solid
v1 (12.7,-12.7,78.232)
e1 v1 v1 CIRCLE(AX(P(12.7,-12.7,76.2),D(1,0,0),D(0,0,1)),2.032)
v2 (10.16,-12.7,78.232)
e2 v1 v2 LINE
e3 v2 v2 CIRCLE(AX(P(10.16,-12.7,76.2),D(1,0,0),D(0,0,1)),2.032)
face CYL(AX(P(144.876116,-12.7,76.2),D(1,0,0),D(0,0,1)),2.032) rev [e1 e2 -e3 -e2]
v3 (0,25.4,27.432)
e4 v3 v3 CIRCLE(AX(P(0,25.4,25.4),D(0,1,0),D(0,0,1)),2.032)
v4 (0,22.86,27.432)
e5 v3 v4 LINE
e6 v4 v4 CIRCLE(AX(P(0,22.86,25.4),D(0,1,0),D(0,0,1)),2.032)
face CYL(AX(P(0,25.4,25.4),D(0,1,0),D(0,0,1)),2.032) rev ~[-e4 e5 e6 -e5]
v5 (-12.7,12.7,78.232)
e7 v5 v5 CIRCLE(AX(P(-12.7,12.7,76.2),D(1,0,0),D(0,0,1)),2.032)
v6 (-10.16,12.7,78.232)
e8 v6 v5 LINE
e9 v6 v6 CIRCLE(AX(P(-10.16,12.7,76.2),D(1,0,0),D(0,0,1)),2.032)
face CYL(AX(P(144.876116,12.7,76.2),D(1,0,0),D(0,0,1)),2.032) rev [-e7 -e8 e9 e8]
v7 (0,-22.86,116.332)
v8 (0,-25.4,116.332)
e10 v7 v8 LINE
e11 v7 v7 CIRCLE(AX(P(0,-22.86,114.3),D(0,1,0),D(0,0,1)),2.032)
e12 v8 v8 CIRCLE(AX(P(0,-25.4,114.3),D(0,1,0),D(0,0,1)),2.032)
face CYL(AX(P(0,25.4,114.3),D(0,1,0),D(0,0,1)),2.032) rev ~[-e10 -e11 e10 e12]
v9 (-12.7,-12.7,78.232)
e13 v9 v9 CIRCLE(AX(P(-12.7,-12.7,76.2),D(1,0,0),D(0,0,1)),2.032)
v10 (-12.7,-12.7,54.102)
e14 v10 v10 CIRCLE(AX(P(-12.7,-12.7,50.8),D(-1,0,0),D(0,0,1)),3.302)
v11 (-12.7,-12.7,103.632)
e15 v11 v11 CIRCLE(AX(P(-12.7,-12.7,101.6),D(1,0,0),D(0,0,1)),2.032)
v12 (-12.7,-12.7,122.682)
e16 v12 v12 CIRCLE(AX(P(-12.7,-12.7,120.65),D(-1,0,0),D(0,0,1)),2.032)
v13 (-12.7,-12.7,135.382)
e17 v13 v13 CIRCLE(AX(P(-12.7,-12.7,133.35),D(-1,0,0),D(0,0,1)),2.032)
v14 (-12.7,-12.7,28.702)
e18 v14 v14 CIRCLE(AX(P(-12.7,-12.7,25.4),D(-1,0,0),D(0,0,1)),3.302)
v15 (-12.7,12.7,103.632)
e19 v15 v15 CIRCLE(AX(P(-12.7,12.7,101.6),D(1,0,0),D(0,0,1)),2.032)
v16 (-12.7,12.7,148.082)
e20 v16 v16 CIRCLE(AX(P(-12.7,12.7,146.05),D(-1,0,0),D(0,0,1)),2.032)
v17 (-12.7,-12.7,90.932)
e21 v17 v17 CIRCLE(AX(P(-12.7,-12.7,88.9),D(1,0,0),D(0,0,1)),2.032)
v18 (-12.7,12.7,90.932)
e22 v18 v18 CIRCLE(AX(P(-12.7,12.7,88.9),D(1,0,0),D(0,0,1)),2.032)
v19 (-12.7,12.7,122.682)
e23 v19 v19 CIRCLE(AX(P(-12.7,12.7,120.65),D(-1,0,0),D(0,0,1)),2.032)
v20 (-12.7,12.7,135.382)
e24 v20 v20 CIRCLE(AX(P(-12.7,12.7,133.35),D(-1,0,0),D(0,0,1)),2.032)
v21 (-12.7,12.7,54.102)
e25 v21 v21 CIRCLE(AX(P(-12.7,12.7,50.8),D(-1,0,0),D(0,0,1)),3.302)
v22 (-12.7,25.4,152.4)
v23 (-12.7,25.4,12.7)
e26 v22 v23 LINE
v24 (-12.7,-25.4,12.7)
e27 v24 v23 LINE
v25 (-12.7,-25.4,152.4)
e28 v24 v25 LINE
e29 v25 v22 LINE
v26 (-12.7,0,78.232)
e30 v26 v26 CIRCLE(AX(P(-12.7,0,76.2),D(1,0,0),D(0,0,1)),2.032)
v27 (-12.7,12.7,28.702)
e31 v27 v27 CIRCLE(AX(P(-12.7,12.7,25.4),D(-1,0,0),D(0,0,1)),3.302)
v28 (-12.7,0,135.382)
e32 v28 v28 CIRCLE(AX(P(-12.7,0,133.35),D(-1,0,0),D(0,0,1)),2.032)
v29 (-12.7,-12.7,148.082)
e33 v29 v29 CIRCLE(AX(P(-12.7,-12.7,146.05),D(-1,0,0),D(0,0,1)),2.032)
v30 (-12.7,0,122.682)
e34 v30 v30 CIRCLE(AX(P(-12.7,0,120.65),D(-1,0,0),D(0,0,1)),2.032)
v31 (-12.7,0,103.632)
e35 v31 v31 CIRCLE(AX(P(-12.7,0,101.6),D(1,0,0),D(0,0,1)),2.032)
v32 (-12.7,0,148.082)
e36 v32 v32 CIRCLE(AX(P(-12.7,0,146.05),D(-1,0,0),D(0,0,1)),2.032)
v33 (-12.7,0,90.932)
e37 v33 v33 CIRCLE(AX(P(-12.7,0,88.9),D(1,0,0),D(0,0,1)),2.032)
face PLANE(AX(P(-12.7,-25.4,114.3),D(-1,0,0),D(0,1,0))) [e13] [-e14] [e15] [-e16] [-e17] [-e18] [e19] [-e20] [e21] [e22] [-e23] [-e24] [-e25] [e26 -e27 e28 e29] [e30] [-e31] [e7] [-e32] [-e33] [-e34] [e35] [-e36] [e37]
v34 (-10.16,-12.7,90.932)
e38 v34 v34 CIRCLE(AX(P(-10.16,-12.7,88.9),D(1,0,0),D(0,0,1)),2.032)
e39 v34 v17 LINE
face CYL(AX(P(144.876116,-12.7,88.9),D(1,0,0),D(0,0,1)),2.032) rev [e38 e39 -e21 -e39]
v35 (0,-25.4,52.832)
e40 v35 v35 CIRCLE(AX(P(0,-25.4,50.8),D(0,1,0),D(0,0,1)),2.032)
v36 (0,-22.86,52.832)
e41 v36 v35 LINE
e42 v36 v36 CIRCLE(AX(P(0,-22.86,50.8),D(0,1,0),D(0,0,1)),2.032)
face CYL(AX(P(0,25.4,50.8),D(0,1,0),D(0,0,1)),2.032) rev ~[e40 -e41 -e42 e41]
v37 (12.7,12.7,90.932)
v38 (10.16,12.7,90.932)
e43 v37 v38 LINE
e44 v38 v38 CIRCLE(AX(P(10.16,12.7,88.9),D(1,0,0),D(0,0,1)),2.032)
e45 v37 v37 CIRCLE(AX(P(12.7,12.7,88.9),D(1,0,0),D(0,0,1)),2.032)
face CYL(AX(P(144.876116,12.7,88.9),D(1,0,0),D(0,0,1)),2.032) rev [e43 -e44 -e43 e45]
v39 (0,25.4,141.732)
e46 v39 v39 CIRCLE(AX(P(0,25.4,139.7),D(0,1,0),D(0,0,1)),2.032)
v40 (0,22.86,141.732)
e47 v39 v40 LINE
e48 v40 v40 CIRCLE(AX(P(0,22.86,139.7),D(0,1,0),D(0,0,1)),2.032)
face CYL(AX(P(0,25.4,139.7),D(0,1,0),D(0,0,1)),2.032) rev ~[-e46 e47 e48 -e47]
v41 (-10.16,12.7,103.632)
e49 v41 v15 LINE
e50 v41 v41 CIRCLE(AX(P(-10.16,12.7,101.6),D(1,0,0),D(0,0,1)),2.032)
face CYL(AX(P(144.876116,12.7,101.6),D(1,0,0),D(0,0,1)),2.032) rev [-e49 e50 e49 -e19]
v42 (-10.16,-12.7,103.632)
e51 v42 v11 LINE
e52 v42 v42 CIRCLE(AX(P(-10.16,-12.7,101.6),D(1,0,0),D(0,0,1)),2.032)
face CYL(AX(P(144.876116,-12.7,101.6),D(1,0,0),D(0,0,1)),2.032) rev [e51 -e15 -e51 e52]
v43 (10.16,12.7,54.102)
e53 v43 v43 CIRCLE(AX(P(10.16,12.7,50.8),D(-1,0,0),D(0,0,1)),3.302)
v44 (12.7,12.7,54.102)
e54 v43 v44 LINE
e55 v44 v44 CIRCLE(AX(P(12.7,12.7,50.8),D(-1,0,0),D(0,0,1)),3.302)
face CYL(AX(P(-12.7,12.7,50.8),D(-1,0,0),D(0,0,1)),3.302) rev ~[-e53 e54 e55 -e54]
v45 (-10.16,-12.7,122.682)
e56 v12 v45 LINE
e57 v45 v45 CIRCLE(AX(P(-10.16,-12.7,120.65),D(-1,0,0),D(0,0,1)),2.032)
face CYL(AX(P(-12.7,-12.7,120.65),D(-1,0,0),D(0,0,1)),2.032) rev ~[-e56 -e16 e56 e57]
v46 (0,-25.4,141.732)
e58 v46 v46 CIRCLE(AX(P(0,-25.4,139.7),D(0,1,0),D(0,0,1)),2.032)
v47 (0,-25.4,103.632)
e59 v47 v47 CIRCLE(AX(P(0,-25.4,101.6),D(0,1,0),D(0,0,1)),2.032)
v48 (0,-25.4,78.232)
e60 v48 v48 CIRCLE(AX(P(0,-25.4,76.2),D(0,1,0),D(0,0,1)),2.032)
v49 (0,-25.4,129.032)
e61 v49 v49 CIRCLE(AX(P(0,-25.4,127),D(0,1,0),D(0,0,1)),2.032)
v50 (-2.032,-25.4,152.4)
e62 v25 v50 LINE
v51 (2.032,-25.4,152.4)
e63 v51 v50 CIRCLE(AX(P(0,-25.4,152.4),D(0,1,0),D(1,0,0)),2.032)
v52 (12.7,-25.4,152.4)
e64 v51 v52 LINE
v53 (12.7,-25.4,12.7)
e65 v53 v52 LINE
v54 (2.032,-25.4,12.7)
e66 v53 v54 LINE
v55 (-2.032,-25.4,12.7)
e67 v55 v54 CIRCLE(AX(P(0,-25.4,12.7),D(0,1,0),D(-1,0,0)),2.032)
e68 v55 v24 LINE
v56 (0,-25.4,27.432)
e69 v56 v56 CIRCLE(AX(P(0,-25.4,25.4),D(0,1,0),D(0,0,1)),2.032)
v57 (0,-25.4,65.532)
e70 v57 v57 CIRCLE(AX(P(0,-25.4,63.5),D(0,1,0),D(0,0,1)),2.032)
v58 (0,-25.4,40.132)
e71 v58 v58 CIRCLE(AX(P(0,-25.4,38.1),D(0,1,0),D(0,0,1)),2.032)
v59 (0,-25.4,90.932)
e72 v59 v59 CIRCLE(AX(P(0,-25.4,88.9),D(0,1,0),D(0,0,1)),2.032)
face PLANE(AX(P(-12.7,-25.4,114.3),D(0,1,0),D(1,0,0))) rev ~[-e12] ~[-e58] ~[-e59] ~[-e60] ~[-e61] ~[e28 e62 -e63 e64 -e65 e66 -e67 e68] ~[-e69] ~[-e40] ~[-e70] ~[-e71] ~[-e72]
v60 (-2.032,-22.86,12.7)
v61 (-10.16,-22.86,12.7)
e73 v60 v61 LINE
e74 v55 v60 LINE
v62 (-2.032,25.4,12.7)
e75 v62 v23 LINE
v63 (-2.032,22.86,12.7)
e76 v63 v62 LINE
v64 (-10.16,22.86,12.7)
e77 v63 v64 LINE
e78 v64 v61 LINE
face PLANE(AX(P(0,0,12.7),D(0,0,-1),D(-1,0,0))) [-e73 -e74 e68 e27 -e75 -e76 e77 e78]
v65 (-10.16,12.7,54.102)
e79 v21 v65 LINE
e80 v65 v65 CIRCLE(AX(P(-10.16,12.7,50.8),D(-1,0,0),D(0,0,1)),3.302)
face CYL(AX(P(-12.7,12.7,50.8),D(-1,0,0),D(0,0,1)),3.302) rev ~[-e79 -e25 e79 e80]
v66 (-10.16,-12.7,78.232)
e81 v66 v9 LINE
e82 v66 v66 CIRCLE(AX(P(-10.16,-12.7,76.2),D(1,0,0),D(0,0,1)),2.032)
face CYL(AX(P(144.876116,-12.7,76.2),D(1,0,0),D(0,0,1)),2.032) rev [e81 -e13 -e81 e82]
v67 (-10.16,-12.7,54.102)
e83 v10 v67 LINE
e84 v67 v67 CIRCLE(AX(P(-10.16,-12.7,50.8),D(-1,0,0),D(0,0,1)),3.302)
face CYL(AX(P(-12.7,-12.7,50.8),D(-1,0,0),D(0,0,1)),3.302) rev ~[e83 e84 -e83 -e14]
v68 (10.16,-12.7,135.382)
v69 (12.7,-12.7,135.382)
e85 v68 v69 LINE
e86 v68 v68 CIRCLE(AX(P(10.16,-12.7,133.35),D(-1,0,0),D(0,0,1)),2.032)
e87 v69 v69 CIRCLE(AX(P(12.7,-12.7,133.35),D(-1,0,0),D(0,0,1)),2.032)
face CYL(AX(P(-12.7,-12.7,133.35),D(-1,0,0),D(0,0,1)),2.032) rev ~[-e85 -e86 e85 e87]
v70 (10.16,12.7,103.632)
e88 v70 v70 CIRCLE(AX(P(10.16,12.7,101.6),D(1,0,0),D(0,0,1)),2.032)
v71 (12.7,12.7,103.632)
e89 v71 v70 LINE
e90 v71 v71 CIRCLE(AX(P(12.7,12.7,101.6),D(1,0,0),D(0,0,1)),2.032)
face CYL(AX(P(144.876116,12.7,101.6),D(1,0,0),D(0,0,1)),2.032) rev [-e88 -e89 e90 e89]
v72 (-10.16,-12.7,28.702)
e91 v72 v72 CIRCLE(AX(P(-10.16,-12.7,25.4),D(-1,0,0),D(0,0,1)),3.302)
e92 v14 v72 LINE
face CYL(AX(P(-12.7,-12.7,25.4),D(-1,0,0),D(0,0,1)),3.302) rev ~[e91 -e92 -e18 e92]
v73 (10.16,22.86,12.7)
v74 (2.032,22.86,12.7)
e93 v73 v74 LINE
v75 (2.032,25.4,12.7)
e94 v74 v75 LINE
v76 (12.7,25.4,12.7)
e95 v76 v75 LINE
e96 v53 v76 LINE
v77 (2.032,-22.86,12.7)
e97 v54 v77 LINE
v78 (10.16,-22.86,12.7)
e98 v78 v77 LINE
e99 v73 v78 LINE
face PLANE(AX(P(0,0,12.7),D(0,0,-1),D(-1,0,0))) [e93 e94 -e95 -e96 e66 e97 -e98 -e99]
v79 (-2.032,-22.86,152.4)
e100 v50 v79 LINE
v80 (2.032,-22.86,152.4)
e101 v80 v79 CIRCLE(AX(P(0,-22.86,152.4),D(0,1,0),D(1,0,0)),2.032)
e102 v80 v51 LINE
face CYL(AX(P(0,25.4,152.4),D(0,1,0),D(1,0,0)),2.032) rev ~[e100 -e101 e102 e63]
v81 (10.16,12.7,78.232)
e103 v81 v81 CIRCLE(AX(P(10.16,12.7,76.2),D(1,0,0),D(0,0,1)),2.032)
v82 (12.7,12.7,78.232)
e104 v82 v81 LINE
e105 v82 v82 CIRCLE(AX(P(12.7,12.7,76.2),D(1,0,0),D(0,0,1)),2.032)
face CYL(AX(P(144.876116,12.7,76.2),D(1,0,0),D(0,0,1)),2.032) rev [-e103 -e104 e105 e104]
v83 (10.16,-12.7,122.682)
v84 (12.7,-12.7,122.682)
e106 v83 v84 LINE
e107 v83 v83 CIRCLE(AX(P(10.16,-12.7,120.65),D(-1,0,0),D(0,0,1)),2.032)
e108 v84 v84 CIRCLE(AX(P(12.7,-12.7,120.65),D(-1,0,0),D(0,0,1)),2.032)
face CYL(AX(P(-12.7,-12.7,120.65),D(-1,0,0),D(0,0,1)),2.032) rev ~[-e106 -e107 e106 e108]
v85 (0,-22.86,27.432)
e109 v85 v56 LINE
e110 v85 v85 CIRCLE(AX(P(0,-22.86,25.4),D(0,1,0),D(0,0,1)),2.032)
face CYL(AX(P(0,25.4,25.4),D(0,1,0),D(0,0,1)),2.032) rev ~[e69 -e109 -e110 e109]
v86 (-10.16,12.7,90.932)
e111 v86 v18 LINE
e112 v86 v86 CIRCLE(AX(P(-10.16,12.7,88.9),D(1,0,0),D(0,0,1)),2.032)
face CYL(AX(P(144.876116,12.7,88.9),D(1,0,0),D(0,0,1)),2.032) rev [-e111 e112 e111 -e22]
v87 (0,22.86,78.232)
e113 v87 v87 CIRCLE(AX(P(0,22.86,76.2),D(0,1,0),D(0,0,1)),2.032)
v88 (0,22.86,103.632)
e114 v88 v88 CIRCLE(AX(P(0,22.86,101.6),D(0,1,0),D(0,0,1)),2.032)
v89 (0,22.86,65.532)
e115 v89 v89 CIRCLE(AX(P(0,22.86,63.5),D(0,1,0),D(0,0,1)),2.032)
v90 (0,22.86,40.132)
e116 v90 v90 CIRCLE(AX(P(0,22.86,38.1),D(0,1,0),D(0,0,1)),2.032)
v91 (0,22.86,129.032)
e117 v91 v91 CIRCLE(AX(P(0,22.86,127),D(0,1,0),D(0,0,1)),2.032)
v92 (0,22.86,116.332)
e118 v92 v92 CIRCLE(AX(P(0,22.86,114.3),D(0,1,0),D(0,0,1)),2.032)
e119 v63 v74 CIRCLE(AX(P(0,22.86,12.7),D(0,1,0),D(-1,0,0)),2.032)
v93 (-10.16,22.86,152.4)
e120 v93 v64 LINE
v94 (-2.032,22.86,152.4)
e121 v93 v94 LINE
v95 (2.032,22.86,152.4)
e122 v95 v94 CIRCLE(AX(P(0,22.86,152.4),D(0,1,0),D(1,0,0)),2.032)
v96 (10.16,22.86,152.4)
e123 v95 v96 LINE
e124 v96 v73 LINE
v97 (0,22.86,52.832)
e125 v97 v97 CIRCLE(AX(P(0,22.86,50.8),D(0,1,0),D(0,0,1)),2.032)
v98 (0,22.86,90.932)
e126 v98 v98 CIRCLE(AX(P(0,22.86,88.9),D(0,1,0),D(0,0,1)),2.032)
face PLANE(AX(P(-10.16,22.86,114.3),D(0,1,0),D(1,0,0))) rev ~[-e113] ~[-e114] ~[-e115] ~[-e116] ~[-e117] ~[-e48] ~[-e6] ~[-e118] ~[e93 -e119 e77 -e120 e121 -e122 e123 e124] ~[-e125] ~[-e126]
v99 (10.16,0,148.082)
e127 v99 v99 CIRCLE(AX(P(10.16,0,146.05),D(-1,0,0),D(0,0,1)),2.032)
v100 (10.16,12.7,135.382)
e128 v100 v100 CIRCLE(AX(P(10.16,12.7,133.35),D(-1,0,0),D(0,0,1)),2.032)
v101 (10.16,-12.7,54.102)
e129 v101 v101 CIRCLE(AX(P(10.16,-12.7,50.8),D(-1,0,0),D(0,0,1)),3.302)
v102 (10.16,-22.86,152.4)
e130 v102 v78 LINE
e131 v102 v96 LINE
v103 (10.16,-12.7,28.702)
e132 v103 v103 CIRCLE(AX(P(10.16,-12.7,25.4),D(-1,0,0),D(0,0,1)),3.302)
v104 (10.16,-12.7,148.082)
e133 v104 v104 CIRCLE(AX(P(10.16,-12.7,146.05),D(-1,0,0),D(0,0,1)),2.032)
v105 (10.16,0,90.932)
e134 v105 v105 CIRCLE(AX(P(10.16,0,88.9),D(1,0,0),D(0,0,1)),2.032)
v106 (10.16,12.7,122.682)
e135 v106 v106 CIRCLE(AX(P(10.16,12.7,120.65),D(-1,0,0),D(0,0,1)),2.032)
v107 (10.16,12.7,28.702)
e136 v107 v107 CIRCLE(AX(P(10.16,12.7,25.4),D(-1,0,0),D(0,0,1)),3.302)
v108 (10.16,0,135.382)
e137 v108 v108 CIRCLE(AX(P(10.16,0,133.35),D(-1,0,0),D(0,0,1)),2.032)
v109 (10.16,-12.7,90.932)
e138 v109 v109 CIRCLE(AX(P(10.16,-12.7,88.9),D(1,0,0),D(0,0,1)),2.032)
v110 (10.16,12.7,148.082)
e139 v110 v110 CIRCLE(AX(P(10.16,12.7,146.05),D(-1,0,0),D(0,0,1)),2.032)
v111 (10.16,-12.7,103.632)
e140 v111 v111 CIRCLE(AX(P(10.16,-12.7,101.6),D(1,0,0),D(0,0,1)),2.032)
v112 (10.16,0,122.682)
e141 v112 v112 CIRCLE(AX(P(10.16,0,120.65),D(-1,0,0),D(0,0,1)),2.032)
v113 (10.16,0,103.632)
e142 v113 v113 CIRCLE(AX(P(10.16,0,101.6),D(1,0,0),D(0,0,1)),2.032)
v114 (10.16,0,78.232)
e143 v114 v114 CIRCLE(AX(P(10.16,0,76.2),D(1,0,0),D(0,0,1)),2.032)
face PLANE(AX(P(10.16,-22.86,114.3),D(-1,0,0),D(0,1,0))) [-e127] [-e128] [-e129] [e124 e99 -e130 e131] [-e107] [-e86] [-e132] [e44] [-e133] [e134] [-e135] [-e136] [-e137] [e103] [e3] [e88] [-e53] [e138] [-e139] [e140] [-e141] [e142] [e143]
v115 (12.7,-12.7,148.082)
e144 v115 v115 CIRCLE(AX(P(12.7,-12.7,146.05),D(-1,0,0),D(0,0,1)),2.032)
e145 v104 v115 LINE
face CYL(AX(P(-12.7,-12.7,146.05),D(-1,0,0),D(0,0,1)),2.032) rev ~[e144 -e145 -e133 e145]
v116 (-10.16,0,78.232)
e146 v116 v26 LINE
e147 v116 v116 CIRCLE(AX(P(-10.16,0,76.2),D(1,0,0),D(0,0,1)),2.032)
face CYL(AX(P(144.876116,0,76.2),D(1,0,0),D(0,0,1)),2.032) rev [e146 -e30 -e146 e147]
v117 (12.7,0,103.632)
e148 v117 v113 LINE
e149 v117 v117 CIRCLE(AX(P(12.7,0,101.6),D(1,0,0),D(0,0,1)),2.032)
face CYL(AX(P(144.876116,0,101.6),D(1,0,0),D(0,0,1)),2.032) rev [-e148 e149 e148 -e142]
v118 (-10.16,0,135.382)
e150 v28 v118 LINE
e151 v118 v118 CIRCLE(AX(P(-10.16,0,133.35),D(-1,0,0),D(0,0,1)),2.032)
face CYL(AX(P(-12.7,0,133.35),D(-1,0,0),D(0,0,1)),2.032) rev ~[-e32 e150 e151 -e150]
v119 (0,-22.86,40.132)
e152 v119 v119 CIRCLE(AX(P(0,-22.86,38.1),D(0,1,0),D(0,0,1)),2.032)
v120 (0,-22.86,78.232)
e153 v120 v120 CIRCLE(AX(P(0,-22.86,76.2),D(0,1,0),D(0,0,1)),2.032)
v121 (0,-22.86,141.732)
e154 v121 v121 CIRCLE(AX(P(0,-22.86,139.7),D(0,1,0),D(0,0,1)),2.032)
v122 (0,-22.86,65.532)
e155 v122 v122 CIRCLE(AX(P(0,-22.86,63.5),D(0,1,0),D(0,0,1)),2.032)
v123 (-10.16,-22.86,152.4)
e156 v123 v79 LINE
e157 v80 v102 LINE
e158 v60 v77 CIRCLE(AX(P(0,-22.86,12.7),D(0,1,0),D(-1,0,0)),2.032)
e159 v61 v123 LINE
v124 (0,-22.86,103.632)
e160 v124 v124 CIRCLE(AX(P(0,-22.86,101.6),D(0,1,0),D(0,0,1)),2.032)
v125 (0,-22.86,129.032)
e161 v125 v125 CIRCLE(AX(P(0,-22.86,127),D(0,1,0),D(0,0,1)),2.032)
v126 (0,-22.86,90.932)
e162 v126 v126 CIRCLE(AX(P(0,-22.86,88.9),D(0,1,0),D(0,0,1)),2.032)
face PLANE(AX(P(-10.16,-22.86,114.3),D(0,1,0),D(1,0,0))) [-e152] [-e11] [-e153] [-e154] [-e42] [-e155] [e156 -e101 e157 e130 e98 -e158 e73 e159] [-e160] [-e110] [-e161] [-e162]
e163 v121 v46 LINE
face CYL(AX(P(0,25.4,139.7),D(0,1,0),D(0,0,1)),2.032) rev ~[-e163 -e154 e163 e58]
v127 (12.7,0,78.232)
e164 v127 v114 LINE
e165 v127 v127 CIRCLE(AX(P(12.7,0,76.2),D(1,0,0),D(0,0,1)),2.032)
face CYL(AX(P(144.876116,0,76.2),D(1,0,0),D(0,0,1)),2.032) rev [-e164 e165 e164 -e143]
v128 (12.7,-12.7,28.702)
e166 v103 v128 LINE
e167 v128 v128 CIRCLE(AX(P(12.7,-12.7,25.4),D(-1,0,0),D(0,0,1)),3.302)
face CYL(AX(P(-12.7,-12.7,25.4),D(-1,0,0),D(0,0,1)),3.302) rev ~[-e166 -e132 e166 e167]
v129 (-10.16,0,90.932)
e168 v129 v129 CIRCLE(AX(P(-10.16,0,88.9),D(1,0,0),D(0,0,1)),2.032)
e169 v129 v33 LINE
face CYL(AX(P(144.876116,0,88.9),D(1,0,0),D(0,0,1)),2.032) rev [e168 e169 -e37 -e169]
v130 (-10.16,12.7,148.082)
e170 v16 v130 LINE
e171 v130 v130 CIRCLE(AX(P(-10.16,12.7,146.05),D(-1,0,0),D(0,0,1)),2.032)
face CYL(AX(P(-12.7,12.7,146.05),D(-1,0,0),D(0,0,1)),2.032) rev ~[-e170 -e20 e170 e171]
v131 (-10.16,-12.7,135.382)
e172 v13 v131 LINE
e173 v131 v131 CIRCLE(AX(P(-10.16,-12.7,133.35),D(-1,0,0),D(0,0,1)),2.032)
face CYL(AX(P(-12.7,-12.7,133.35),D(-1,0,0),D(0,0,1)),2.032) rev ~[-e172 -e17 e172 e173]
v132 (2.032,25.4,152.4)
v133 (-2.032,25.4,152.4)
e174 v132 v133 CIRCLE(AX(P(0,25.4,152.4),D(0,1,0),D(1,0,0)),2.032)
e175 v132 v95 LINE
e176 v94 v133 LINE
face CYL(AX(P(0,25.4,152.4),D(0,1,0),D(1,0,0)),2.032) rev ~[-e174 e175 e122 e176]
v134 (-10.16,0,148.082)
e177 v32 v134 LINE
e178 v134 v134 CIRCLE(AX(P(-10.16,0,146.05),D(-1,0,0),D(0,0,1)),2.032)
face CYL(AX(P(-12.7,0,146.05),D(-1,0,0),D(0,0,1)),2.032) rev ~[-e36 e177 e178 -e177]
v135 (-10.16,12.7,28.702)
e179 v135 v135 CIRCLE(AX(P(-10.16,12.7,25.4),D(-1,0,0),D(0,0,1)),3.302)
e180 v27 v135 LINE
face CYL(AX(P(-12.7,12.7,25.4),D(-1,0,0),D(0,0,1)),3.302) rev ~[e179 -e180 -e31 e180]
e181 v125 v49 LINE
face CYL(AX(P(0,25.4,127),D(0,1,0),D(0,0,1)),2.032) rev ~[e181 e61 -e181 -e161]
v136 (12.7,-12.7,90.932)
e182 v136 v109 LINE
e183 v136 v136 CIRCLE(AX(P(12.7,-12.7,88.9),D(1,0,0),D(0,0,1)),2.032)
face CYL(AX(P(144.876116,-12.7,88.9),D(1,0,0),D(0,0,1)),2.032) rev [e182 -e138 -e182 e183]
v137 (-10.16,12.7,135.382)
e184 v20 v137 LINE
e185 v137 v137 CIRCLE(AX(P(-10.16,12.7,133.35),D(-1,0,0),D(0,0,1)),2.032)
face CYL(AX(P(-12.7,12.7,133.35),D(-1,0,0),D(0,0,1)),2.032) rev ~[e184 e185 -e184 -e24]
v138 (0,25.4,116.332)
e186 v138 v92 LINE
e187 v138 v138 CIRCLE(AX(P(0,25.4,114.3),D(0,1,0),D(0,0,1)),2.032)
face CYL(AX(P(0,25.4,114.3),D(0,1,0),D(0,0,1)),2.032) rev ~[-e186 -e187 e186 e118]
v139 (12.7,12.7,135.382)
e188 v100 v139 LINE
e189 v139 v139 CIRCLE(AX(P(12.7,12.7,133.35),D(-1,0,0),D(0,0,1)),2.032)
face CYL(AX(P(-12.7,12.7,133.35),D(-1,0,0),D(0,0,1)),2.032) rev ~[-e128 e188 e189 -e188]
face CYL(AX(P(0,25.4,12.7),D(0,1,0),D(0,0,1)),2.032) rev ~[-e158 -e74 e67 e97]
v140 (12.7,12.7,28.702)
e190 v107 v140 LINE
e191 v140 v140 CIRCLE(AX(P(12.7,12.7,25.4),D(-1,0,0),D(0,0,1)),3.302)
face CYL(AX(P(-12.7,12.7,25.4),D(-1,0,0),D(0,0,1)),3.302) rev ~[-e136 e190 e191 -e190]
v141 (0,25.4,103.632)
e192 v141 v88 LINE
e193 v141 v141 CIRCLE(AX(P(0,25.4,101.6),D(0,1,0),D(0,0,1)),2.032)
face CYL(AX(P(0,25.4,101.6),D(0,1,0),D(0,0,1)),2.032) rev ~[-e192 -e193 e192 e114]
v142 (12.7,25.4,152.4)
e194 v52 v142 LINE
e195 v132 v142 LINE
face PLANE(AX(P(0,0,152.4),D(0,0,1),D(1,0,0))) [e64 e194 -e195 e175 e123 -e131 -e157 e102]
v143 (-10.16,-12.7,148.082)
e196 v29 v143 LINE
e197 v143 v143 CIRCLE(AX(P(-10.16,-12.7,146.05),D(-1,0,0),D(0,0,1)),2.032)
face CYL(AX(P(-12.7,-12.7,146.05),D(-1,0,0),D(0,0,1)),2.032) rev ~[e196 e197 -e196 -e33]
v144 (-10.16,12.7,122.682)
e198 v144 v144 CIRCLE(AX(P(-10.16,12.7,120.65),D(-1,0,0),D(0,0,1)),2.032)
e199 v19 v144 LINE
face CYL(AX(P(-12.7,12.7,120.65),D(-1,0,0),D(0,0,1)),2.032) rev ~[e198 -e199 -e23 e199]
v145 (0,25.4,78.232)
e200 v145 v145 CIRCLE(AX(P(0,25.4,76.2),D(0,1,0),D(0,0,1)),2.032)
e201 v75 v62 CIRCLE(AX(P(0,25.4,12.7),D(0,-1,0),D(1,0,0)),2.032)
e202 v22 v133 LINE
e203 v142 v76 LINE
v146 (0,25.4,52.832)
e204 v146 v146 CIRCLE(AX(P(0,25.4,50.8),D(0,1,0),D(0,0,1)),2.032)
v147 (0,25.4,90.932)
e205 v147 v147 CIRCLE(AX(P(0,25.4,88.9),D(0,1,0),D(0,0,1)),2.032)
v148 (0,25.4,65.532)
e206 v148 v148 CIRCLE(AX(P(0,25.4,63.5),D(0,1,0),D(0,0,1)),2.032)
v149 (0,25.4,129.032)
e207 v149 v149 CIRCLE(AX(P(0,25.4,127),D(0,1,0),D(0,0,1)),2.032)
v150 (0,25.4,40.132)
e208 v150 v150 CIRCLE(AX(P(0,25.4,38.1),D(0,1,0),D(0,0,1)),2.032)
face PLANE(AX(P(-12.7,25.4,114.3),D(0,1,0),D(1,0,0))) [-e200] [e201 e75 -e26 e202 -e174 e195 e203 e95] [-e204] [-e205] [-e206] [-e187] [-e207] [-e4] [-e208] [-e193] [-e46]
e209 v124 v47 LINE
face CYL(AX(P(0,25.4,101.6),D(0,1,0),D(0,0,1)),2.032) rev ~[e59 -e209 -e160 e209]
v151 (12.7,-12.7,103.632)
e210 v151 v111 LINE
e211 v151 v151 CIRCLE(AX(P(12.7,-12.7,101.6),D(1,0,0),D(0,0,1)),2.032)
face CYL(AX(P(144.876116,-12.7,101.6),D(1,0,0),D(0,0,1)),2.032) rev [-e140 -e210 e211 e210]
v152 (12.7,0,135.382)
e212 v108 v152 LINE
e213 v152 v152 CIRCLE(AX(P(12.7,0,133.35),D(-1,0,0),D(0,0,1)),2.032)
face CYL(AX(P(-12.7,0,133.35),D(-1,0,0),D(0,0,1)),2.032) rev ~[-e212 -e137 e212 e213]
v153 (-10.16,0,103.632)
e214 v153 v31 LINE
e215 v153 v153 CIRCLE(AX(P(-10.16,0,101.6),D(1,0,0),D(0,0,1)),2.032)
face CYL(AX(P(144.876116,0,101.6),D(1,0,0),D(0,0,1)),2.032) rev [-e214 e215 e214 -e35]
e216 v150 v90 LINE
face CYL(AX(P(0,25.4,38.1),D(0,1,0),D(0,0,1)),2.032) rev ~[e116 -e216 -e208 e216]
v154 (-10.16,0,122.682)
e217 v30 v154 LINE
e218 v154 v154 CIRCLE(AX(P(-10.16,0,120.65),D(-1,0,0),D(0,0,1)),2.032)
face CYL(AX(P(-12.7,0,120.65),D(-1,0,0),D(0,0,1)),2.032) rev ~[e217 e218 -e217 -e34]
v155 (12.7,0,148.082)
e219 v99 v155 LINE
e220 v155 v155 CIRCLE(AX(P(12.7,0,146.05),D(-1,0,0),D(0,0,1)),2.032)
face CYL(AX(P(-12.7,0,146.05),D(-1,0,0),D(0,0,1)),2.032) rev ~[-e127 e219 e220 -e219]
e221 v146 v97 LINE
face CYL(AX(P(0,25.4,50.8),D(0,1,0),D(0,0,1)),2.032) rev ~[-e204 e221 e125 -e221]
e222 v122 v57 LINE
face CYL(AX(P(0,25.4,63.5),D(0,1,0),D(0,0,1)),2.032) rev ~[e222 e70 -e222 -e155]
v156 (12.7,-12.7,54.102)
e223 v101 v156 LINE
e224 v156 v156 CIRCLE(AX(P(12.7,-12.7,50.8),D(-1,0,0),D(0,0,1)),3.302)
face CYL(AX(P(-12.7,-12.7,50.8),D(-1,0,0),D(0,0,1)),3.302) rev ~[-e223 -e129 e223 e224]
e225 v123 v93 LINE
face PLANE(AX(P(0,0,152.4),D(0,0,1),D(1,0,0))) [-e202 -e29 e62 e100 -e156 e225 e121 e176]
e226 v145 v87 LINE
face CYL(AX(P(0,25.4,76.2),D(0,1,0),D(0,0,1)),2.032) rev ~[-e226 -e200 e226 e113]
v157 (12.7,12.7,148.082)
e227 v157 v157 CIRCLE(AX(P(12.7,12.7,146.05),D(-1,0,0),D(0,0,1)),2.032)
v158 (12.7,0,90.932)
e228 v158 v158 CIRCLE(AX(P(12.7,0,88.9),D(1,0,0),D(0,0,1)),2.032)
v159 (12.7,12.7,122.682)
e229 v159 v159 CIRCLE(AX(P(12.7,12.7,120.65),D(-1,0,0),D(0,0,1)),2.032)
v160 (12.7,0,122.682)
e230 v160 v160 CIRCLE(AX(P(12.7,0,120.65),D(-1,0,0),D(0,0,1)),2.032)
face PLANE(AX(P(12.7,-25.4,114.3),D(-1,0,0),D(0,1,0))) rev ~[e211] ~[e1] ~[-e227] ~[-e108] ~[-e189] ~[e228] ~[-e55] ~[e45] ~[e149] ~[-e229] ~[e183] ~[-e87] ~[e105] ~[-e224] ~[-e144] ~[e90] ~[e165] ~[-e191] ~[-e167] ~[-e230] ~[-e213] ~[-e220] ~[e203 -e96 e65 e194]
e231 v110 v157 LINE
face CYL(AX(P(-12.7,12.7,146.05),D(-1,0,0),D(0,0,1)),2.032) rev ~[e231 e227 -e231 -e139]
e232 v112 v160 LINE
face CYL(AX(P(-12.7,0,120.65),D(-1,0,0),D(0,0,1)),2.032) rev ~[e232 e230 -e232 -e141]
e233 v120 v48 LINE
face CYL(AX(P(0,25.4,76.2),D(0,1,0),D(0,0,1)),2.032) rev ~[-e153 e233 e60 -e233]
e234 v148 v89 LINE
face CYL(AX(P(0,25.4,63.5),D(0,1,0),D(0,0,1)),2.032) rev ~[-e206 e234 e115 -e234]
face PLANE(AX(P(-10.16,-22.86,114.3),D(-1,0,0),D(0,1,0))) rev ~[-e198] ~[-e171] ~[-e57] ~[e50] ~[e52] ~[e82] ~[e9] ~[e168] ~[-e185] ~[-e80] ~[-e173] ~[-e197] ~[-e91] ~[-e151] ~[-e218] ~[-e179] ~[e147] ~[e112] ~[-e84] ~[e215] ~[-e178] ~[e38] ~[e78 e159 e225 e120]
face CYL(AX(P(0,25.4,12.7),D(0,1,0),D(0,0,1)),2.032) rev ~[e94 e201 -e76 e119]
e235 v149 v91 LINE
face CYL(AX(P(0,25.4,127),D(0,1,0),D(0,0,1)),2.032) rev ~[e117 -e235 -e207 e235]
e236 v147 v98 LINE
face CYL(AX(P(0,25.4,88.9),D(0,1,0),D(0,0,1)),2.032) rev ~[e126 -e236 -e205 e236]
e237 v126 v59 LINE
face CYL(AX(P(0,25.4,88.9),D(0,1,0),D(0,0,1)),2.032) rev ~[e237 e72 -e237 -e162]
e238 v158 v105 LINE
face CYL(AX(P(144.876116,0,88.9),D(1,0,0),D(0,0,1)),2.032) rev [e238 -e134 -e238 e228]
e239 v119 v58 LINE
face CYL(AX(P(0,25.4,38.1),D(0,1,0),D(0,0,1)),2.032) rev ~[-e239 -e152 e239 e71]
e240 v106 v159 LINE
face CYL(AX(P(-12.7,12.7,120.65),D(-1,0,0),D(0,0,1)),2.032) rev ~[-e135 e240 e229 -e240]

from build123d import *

# Parameters (mm, degrees)
SKETCH1_W               = 25.4
SKETCH1_H               = 50.8
SKETCH1_W_2             = 20.32
SKETCH1_H_2             = 45.72
BOSS_EXTRUDE1_DEPTH     = 114.3
SKETCH6_W               = 25.4
SKETCH6_H               = 50.8
SKETCH6_W_2             = 20.32
SKETCH6_H_2             = 45.72
BOSS_EXTRUDE4_DEPTH     = 38.1
SKETCH2_R               = 2.032
CUT_EXTRUDE1_DEPTH      = 162.144934764
CUT_EXTRUDE2_DEPTH      = 157.576115675
CUT_EXTRUDE2_DEPTH_BACK = 157.576115675
SKETCH3_R               = 2.032
SKETCH7_W               = 25.4
SKETCH7_H               = 50.8
CUT_EXTRUDE3_DEPTH      = 12.7
SKETCH8_R               = 3.302
CUT_EXTRUDE5_DEPTH      = 157.576115675
SKETCH9_R               = 2.032
CUT_EXTRUDE6_DEPTH      = 157.576115675


with BuildPart() as part:
    # Sketch1 → Boss-Extrude1 (new body)
    with BuildSketch(Plane.XY):
        Rectangle(SKETCH1_W, SKETCH1_H)
        Rectangle(SKETCH1_W_2, SKETCH1_H_2, mode=Mode.SUBTRACT)
    extrude(amount=BOSS_EXTRUDE1_DEPTH)

    # Sketch6 → Boss-Extrude4 (add)
    with BuildSketch(Plane.XY.offset(114.3)):
        Rectangle(SKETCH6_W, SKETCH6_H)
        Rectangle(SKETCH6_W_2, SKETCH6_H_2, mode=Mode.SUBTRACT)
    extrude(amount=BOSS_EXTRUDE4_DEPTH)

    # Sketch2 → Cut-Extrude1 (cut, through all)
    with BuildSketch(Plane(origin=(0, 25.4, 0), x_dir=(1, 0, 0), z_dir=(0, 1, 0))):
        Circle(SKETCH2_R)
        with Locations(Location((0, -12.7, 0), (0, 0, 270))):
            Circle(SKETCH2_R)
        with Locations(Location((0, -25.4, 0), (0, 0, 270))):
            Circle(SKETCH2_R)
        with Locations(Location((0, -38.1, 0), (0, 0, 270))):
            Circle(SKETCH2_R)
        with Locations(Location((0, -50.8, 0), (0, 0, 270))):
            Circle(SKETCH2_R)
        with Locations(Location((0, -63.5, 0), (0, 0, 270))):
            Circle(SKETCH2_R)
        with Locations(Location((0, -76.2, 0), (0, 0, 270))):
            Circle(SKETCH2_R)
        with Locations(Location((0, -88.9, 0), (0, 0, 270))):
            Circle(SKETCH2_R)
        with Locations(Location((0, -101.6, 0), (0, 0, 270))):
            Circle(SKETCH2_R)
        with Locations(Location((0, -114.3, 0), (0, 0, 270))):
            Circle(SKETCH2_R)
        with Locations(Location((0, -127, 0), (0, 0, 270))):
            Circle(SKETCH2_R)
        with Locations(Location((0, -139.7, 0), (0, 0, 270))):
            Circle(SKETCH2_R)
        with Locations((0, -152.4)):
            Circle(SKETCH2_R)
        with Locations((0, -165.1)):
            Circle(SKETCH2_R)
        with Locations((0, -177.8)):
            Circle(SKETCH2_R)
        with Locations((0, -190.5)):
            Circle(SKETCH2_R)
        with Locations((0, -203.2)):
            Circle(SKETCH2_R)
        with Locations((0, -215.9)):
            Circle(SKETCH2_R)
        with Locations((0, -228.6)):
            Circle(SKETCH2_R)
        with Locations((0, -241.3)):
            Circle(SKETCH2_R)
    extrude(amount=-CUT_EXTRUDE1_DEPTH, mode=Mode.SUBTRACT)

    # Sketch3 → Cut-Extrude2 (cut, two sides: drawn at the far end of the back side and taken through both)
    with BuildSketch(Plane.ZY.offset(12.7).offset(-CUT_EXTRUDE2_DEPTH_BACK)):
        with Locations((101.6, 12.7)):
            Circle(SKETCH3_R)
        with Locations((101.6, 0)):
            Circle(SKETCH3_R)
        with Locations((101.6, -12.7)):
            Circle(SKETCH3_R)
        with Locations((88.9, 0)):
            Circle(SKETCH3_R)
        with Locations((88.9, -12.7)):
            Circle(SKETCH3_R)
        with Locations((76.2, 0)):
            Circle(SKETCH3_R)
        with Locations((76.2, -12.7)):
            Circle(SKETCH3_R)
        with Locations((88.9, 12.7)):
            Circle(SKETCH3_R)
        with Locations((76.2, 12.7)):
            Circle(SKETCH3_R)
    extrude(amount=CUT_EXTRUDE2_DEPTH + CUT_EXTRUDE2_DEPTH_BACK, mode=Mode.SUBTRACT)

    # Sketch7 → Cut-Extrude3 (cut)
    with BuildSketch(Plane(origin=(0, 0, 0), x_dir=(-1, 0, 0), z_dir=(0, 0, -1))):
        Rectangle(SKETCH7_W, SKETCH7_H)
    extrude(amount=-CUT_EXTRUDE3_DEPTH, mode=Mode.SUBTRACT)

    # Sketch8 → Cut-Extrude5 (cut, through all)
    with BuildSketch(Plane.ZY.offset(12.7)):
        with Locations((25.4, 12.7)):
            Circle(SKETCH8_R)
        with Locations((25.4, -12.7)):
            Circle(SKETCH8_R)
        with Locations((50.8, -12.7)):
            Circle(SKETCH8_R)
        with Locations((50.8, 12.7)):
            Circle(SKETCH8_R)
    extrude(amount=-CUT_EXTRUDE5_DEPTH, mode=Mode.SUBTRACT)

    # Sketch9 → Cut-Extrude6 (cut, through all)
    with BuildSketch(Plane.ZY.offset(12.7)):
        with Locations((146.05, 12.7)):
            Circle(SKETCH9_R)
        with Locations((146.05, 0)):
            Circle(SKETCH9_R)
        with Locations((146.05, -12.7)):
            Circle(SKETCH9_R)
        with Locations((133.35, 0)):
            Circle(SKETCH9_R)
        with Locations((133.35, -12.7)):
            Circle(SKETCH9_R)
        with Locations((120.65, 0)):
            Circle(SKETCH9_R)
        with Locations((120.65, -12.7)):
            Circle(SKETCH9_R)
        with Locations((133.35, 12.7)):
            Circle(SKETCH9_R)
        with Locations((120.65, 12.7)):
            Circle(SKETCH9_R)
    extrude(amount=-CUT_EXTRUDE6_DEPTH, mode=Mode.SUBTRACT)


solid = part.part
